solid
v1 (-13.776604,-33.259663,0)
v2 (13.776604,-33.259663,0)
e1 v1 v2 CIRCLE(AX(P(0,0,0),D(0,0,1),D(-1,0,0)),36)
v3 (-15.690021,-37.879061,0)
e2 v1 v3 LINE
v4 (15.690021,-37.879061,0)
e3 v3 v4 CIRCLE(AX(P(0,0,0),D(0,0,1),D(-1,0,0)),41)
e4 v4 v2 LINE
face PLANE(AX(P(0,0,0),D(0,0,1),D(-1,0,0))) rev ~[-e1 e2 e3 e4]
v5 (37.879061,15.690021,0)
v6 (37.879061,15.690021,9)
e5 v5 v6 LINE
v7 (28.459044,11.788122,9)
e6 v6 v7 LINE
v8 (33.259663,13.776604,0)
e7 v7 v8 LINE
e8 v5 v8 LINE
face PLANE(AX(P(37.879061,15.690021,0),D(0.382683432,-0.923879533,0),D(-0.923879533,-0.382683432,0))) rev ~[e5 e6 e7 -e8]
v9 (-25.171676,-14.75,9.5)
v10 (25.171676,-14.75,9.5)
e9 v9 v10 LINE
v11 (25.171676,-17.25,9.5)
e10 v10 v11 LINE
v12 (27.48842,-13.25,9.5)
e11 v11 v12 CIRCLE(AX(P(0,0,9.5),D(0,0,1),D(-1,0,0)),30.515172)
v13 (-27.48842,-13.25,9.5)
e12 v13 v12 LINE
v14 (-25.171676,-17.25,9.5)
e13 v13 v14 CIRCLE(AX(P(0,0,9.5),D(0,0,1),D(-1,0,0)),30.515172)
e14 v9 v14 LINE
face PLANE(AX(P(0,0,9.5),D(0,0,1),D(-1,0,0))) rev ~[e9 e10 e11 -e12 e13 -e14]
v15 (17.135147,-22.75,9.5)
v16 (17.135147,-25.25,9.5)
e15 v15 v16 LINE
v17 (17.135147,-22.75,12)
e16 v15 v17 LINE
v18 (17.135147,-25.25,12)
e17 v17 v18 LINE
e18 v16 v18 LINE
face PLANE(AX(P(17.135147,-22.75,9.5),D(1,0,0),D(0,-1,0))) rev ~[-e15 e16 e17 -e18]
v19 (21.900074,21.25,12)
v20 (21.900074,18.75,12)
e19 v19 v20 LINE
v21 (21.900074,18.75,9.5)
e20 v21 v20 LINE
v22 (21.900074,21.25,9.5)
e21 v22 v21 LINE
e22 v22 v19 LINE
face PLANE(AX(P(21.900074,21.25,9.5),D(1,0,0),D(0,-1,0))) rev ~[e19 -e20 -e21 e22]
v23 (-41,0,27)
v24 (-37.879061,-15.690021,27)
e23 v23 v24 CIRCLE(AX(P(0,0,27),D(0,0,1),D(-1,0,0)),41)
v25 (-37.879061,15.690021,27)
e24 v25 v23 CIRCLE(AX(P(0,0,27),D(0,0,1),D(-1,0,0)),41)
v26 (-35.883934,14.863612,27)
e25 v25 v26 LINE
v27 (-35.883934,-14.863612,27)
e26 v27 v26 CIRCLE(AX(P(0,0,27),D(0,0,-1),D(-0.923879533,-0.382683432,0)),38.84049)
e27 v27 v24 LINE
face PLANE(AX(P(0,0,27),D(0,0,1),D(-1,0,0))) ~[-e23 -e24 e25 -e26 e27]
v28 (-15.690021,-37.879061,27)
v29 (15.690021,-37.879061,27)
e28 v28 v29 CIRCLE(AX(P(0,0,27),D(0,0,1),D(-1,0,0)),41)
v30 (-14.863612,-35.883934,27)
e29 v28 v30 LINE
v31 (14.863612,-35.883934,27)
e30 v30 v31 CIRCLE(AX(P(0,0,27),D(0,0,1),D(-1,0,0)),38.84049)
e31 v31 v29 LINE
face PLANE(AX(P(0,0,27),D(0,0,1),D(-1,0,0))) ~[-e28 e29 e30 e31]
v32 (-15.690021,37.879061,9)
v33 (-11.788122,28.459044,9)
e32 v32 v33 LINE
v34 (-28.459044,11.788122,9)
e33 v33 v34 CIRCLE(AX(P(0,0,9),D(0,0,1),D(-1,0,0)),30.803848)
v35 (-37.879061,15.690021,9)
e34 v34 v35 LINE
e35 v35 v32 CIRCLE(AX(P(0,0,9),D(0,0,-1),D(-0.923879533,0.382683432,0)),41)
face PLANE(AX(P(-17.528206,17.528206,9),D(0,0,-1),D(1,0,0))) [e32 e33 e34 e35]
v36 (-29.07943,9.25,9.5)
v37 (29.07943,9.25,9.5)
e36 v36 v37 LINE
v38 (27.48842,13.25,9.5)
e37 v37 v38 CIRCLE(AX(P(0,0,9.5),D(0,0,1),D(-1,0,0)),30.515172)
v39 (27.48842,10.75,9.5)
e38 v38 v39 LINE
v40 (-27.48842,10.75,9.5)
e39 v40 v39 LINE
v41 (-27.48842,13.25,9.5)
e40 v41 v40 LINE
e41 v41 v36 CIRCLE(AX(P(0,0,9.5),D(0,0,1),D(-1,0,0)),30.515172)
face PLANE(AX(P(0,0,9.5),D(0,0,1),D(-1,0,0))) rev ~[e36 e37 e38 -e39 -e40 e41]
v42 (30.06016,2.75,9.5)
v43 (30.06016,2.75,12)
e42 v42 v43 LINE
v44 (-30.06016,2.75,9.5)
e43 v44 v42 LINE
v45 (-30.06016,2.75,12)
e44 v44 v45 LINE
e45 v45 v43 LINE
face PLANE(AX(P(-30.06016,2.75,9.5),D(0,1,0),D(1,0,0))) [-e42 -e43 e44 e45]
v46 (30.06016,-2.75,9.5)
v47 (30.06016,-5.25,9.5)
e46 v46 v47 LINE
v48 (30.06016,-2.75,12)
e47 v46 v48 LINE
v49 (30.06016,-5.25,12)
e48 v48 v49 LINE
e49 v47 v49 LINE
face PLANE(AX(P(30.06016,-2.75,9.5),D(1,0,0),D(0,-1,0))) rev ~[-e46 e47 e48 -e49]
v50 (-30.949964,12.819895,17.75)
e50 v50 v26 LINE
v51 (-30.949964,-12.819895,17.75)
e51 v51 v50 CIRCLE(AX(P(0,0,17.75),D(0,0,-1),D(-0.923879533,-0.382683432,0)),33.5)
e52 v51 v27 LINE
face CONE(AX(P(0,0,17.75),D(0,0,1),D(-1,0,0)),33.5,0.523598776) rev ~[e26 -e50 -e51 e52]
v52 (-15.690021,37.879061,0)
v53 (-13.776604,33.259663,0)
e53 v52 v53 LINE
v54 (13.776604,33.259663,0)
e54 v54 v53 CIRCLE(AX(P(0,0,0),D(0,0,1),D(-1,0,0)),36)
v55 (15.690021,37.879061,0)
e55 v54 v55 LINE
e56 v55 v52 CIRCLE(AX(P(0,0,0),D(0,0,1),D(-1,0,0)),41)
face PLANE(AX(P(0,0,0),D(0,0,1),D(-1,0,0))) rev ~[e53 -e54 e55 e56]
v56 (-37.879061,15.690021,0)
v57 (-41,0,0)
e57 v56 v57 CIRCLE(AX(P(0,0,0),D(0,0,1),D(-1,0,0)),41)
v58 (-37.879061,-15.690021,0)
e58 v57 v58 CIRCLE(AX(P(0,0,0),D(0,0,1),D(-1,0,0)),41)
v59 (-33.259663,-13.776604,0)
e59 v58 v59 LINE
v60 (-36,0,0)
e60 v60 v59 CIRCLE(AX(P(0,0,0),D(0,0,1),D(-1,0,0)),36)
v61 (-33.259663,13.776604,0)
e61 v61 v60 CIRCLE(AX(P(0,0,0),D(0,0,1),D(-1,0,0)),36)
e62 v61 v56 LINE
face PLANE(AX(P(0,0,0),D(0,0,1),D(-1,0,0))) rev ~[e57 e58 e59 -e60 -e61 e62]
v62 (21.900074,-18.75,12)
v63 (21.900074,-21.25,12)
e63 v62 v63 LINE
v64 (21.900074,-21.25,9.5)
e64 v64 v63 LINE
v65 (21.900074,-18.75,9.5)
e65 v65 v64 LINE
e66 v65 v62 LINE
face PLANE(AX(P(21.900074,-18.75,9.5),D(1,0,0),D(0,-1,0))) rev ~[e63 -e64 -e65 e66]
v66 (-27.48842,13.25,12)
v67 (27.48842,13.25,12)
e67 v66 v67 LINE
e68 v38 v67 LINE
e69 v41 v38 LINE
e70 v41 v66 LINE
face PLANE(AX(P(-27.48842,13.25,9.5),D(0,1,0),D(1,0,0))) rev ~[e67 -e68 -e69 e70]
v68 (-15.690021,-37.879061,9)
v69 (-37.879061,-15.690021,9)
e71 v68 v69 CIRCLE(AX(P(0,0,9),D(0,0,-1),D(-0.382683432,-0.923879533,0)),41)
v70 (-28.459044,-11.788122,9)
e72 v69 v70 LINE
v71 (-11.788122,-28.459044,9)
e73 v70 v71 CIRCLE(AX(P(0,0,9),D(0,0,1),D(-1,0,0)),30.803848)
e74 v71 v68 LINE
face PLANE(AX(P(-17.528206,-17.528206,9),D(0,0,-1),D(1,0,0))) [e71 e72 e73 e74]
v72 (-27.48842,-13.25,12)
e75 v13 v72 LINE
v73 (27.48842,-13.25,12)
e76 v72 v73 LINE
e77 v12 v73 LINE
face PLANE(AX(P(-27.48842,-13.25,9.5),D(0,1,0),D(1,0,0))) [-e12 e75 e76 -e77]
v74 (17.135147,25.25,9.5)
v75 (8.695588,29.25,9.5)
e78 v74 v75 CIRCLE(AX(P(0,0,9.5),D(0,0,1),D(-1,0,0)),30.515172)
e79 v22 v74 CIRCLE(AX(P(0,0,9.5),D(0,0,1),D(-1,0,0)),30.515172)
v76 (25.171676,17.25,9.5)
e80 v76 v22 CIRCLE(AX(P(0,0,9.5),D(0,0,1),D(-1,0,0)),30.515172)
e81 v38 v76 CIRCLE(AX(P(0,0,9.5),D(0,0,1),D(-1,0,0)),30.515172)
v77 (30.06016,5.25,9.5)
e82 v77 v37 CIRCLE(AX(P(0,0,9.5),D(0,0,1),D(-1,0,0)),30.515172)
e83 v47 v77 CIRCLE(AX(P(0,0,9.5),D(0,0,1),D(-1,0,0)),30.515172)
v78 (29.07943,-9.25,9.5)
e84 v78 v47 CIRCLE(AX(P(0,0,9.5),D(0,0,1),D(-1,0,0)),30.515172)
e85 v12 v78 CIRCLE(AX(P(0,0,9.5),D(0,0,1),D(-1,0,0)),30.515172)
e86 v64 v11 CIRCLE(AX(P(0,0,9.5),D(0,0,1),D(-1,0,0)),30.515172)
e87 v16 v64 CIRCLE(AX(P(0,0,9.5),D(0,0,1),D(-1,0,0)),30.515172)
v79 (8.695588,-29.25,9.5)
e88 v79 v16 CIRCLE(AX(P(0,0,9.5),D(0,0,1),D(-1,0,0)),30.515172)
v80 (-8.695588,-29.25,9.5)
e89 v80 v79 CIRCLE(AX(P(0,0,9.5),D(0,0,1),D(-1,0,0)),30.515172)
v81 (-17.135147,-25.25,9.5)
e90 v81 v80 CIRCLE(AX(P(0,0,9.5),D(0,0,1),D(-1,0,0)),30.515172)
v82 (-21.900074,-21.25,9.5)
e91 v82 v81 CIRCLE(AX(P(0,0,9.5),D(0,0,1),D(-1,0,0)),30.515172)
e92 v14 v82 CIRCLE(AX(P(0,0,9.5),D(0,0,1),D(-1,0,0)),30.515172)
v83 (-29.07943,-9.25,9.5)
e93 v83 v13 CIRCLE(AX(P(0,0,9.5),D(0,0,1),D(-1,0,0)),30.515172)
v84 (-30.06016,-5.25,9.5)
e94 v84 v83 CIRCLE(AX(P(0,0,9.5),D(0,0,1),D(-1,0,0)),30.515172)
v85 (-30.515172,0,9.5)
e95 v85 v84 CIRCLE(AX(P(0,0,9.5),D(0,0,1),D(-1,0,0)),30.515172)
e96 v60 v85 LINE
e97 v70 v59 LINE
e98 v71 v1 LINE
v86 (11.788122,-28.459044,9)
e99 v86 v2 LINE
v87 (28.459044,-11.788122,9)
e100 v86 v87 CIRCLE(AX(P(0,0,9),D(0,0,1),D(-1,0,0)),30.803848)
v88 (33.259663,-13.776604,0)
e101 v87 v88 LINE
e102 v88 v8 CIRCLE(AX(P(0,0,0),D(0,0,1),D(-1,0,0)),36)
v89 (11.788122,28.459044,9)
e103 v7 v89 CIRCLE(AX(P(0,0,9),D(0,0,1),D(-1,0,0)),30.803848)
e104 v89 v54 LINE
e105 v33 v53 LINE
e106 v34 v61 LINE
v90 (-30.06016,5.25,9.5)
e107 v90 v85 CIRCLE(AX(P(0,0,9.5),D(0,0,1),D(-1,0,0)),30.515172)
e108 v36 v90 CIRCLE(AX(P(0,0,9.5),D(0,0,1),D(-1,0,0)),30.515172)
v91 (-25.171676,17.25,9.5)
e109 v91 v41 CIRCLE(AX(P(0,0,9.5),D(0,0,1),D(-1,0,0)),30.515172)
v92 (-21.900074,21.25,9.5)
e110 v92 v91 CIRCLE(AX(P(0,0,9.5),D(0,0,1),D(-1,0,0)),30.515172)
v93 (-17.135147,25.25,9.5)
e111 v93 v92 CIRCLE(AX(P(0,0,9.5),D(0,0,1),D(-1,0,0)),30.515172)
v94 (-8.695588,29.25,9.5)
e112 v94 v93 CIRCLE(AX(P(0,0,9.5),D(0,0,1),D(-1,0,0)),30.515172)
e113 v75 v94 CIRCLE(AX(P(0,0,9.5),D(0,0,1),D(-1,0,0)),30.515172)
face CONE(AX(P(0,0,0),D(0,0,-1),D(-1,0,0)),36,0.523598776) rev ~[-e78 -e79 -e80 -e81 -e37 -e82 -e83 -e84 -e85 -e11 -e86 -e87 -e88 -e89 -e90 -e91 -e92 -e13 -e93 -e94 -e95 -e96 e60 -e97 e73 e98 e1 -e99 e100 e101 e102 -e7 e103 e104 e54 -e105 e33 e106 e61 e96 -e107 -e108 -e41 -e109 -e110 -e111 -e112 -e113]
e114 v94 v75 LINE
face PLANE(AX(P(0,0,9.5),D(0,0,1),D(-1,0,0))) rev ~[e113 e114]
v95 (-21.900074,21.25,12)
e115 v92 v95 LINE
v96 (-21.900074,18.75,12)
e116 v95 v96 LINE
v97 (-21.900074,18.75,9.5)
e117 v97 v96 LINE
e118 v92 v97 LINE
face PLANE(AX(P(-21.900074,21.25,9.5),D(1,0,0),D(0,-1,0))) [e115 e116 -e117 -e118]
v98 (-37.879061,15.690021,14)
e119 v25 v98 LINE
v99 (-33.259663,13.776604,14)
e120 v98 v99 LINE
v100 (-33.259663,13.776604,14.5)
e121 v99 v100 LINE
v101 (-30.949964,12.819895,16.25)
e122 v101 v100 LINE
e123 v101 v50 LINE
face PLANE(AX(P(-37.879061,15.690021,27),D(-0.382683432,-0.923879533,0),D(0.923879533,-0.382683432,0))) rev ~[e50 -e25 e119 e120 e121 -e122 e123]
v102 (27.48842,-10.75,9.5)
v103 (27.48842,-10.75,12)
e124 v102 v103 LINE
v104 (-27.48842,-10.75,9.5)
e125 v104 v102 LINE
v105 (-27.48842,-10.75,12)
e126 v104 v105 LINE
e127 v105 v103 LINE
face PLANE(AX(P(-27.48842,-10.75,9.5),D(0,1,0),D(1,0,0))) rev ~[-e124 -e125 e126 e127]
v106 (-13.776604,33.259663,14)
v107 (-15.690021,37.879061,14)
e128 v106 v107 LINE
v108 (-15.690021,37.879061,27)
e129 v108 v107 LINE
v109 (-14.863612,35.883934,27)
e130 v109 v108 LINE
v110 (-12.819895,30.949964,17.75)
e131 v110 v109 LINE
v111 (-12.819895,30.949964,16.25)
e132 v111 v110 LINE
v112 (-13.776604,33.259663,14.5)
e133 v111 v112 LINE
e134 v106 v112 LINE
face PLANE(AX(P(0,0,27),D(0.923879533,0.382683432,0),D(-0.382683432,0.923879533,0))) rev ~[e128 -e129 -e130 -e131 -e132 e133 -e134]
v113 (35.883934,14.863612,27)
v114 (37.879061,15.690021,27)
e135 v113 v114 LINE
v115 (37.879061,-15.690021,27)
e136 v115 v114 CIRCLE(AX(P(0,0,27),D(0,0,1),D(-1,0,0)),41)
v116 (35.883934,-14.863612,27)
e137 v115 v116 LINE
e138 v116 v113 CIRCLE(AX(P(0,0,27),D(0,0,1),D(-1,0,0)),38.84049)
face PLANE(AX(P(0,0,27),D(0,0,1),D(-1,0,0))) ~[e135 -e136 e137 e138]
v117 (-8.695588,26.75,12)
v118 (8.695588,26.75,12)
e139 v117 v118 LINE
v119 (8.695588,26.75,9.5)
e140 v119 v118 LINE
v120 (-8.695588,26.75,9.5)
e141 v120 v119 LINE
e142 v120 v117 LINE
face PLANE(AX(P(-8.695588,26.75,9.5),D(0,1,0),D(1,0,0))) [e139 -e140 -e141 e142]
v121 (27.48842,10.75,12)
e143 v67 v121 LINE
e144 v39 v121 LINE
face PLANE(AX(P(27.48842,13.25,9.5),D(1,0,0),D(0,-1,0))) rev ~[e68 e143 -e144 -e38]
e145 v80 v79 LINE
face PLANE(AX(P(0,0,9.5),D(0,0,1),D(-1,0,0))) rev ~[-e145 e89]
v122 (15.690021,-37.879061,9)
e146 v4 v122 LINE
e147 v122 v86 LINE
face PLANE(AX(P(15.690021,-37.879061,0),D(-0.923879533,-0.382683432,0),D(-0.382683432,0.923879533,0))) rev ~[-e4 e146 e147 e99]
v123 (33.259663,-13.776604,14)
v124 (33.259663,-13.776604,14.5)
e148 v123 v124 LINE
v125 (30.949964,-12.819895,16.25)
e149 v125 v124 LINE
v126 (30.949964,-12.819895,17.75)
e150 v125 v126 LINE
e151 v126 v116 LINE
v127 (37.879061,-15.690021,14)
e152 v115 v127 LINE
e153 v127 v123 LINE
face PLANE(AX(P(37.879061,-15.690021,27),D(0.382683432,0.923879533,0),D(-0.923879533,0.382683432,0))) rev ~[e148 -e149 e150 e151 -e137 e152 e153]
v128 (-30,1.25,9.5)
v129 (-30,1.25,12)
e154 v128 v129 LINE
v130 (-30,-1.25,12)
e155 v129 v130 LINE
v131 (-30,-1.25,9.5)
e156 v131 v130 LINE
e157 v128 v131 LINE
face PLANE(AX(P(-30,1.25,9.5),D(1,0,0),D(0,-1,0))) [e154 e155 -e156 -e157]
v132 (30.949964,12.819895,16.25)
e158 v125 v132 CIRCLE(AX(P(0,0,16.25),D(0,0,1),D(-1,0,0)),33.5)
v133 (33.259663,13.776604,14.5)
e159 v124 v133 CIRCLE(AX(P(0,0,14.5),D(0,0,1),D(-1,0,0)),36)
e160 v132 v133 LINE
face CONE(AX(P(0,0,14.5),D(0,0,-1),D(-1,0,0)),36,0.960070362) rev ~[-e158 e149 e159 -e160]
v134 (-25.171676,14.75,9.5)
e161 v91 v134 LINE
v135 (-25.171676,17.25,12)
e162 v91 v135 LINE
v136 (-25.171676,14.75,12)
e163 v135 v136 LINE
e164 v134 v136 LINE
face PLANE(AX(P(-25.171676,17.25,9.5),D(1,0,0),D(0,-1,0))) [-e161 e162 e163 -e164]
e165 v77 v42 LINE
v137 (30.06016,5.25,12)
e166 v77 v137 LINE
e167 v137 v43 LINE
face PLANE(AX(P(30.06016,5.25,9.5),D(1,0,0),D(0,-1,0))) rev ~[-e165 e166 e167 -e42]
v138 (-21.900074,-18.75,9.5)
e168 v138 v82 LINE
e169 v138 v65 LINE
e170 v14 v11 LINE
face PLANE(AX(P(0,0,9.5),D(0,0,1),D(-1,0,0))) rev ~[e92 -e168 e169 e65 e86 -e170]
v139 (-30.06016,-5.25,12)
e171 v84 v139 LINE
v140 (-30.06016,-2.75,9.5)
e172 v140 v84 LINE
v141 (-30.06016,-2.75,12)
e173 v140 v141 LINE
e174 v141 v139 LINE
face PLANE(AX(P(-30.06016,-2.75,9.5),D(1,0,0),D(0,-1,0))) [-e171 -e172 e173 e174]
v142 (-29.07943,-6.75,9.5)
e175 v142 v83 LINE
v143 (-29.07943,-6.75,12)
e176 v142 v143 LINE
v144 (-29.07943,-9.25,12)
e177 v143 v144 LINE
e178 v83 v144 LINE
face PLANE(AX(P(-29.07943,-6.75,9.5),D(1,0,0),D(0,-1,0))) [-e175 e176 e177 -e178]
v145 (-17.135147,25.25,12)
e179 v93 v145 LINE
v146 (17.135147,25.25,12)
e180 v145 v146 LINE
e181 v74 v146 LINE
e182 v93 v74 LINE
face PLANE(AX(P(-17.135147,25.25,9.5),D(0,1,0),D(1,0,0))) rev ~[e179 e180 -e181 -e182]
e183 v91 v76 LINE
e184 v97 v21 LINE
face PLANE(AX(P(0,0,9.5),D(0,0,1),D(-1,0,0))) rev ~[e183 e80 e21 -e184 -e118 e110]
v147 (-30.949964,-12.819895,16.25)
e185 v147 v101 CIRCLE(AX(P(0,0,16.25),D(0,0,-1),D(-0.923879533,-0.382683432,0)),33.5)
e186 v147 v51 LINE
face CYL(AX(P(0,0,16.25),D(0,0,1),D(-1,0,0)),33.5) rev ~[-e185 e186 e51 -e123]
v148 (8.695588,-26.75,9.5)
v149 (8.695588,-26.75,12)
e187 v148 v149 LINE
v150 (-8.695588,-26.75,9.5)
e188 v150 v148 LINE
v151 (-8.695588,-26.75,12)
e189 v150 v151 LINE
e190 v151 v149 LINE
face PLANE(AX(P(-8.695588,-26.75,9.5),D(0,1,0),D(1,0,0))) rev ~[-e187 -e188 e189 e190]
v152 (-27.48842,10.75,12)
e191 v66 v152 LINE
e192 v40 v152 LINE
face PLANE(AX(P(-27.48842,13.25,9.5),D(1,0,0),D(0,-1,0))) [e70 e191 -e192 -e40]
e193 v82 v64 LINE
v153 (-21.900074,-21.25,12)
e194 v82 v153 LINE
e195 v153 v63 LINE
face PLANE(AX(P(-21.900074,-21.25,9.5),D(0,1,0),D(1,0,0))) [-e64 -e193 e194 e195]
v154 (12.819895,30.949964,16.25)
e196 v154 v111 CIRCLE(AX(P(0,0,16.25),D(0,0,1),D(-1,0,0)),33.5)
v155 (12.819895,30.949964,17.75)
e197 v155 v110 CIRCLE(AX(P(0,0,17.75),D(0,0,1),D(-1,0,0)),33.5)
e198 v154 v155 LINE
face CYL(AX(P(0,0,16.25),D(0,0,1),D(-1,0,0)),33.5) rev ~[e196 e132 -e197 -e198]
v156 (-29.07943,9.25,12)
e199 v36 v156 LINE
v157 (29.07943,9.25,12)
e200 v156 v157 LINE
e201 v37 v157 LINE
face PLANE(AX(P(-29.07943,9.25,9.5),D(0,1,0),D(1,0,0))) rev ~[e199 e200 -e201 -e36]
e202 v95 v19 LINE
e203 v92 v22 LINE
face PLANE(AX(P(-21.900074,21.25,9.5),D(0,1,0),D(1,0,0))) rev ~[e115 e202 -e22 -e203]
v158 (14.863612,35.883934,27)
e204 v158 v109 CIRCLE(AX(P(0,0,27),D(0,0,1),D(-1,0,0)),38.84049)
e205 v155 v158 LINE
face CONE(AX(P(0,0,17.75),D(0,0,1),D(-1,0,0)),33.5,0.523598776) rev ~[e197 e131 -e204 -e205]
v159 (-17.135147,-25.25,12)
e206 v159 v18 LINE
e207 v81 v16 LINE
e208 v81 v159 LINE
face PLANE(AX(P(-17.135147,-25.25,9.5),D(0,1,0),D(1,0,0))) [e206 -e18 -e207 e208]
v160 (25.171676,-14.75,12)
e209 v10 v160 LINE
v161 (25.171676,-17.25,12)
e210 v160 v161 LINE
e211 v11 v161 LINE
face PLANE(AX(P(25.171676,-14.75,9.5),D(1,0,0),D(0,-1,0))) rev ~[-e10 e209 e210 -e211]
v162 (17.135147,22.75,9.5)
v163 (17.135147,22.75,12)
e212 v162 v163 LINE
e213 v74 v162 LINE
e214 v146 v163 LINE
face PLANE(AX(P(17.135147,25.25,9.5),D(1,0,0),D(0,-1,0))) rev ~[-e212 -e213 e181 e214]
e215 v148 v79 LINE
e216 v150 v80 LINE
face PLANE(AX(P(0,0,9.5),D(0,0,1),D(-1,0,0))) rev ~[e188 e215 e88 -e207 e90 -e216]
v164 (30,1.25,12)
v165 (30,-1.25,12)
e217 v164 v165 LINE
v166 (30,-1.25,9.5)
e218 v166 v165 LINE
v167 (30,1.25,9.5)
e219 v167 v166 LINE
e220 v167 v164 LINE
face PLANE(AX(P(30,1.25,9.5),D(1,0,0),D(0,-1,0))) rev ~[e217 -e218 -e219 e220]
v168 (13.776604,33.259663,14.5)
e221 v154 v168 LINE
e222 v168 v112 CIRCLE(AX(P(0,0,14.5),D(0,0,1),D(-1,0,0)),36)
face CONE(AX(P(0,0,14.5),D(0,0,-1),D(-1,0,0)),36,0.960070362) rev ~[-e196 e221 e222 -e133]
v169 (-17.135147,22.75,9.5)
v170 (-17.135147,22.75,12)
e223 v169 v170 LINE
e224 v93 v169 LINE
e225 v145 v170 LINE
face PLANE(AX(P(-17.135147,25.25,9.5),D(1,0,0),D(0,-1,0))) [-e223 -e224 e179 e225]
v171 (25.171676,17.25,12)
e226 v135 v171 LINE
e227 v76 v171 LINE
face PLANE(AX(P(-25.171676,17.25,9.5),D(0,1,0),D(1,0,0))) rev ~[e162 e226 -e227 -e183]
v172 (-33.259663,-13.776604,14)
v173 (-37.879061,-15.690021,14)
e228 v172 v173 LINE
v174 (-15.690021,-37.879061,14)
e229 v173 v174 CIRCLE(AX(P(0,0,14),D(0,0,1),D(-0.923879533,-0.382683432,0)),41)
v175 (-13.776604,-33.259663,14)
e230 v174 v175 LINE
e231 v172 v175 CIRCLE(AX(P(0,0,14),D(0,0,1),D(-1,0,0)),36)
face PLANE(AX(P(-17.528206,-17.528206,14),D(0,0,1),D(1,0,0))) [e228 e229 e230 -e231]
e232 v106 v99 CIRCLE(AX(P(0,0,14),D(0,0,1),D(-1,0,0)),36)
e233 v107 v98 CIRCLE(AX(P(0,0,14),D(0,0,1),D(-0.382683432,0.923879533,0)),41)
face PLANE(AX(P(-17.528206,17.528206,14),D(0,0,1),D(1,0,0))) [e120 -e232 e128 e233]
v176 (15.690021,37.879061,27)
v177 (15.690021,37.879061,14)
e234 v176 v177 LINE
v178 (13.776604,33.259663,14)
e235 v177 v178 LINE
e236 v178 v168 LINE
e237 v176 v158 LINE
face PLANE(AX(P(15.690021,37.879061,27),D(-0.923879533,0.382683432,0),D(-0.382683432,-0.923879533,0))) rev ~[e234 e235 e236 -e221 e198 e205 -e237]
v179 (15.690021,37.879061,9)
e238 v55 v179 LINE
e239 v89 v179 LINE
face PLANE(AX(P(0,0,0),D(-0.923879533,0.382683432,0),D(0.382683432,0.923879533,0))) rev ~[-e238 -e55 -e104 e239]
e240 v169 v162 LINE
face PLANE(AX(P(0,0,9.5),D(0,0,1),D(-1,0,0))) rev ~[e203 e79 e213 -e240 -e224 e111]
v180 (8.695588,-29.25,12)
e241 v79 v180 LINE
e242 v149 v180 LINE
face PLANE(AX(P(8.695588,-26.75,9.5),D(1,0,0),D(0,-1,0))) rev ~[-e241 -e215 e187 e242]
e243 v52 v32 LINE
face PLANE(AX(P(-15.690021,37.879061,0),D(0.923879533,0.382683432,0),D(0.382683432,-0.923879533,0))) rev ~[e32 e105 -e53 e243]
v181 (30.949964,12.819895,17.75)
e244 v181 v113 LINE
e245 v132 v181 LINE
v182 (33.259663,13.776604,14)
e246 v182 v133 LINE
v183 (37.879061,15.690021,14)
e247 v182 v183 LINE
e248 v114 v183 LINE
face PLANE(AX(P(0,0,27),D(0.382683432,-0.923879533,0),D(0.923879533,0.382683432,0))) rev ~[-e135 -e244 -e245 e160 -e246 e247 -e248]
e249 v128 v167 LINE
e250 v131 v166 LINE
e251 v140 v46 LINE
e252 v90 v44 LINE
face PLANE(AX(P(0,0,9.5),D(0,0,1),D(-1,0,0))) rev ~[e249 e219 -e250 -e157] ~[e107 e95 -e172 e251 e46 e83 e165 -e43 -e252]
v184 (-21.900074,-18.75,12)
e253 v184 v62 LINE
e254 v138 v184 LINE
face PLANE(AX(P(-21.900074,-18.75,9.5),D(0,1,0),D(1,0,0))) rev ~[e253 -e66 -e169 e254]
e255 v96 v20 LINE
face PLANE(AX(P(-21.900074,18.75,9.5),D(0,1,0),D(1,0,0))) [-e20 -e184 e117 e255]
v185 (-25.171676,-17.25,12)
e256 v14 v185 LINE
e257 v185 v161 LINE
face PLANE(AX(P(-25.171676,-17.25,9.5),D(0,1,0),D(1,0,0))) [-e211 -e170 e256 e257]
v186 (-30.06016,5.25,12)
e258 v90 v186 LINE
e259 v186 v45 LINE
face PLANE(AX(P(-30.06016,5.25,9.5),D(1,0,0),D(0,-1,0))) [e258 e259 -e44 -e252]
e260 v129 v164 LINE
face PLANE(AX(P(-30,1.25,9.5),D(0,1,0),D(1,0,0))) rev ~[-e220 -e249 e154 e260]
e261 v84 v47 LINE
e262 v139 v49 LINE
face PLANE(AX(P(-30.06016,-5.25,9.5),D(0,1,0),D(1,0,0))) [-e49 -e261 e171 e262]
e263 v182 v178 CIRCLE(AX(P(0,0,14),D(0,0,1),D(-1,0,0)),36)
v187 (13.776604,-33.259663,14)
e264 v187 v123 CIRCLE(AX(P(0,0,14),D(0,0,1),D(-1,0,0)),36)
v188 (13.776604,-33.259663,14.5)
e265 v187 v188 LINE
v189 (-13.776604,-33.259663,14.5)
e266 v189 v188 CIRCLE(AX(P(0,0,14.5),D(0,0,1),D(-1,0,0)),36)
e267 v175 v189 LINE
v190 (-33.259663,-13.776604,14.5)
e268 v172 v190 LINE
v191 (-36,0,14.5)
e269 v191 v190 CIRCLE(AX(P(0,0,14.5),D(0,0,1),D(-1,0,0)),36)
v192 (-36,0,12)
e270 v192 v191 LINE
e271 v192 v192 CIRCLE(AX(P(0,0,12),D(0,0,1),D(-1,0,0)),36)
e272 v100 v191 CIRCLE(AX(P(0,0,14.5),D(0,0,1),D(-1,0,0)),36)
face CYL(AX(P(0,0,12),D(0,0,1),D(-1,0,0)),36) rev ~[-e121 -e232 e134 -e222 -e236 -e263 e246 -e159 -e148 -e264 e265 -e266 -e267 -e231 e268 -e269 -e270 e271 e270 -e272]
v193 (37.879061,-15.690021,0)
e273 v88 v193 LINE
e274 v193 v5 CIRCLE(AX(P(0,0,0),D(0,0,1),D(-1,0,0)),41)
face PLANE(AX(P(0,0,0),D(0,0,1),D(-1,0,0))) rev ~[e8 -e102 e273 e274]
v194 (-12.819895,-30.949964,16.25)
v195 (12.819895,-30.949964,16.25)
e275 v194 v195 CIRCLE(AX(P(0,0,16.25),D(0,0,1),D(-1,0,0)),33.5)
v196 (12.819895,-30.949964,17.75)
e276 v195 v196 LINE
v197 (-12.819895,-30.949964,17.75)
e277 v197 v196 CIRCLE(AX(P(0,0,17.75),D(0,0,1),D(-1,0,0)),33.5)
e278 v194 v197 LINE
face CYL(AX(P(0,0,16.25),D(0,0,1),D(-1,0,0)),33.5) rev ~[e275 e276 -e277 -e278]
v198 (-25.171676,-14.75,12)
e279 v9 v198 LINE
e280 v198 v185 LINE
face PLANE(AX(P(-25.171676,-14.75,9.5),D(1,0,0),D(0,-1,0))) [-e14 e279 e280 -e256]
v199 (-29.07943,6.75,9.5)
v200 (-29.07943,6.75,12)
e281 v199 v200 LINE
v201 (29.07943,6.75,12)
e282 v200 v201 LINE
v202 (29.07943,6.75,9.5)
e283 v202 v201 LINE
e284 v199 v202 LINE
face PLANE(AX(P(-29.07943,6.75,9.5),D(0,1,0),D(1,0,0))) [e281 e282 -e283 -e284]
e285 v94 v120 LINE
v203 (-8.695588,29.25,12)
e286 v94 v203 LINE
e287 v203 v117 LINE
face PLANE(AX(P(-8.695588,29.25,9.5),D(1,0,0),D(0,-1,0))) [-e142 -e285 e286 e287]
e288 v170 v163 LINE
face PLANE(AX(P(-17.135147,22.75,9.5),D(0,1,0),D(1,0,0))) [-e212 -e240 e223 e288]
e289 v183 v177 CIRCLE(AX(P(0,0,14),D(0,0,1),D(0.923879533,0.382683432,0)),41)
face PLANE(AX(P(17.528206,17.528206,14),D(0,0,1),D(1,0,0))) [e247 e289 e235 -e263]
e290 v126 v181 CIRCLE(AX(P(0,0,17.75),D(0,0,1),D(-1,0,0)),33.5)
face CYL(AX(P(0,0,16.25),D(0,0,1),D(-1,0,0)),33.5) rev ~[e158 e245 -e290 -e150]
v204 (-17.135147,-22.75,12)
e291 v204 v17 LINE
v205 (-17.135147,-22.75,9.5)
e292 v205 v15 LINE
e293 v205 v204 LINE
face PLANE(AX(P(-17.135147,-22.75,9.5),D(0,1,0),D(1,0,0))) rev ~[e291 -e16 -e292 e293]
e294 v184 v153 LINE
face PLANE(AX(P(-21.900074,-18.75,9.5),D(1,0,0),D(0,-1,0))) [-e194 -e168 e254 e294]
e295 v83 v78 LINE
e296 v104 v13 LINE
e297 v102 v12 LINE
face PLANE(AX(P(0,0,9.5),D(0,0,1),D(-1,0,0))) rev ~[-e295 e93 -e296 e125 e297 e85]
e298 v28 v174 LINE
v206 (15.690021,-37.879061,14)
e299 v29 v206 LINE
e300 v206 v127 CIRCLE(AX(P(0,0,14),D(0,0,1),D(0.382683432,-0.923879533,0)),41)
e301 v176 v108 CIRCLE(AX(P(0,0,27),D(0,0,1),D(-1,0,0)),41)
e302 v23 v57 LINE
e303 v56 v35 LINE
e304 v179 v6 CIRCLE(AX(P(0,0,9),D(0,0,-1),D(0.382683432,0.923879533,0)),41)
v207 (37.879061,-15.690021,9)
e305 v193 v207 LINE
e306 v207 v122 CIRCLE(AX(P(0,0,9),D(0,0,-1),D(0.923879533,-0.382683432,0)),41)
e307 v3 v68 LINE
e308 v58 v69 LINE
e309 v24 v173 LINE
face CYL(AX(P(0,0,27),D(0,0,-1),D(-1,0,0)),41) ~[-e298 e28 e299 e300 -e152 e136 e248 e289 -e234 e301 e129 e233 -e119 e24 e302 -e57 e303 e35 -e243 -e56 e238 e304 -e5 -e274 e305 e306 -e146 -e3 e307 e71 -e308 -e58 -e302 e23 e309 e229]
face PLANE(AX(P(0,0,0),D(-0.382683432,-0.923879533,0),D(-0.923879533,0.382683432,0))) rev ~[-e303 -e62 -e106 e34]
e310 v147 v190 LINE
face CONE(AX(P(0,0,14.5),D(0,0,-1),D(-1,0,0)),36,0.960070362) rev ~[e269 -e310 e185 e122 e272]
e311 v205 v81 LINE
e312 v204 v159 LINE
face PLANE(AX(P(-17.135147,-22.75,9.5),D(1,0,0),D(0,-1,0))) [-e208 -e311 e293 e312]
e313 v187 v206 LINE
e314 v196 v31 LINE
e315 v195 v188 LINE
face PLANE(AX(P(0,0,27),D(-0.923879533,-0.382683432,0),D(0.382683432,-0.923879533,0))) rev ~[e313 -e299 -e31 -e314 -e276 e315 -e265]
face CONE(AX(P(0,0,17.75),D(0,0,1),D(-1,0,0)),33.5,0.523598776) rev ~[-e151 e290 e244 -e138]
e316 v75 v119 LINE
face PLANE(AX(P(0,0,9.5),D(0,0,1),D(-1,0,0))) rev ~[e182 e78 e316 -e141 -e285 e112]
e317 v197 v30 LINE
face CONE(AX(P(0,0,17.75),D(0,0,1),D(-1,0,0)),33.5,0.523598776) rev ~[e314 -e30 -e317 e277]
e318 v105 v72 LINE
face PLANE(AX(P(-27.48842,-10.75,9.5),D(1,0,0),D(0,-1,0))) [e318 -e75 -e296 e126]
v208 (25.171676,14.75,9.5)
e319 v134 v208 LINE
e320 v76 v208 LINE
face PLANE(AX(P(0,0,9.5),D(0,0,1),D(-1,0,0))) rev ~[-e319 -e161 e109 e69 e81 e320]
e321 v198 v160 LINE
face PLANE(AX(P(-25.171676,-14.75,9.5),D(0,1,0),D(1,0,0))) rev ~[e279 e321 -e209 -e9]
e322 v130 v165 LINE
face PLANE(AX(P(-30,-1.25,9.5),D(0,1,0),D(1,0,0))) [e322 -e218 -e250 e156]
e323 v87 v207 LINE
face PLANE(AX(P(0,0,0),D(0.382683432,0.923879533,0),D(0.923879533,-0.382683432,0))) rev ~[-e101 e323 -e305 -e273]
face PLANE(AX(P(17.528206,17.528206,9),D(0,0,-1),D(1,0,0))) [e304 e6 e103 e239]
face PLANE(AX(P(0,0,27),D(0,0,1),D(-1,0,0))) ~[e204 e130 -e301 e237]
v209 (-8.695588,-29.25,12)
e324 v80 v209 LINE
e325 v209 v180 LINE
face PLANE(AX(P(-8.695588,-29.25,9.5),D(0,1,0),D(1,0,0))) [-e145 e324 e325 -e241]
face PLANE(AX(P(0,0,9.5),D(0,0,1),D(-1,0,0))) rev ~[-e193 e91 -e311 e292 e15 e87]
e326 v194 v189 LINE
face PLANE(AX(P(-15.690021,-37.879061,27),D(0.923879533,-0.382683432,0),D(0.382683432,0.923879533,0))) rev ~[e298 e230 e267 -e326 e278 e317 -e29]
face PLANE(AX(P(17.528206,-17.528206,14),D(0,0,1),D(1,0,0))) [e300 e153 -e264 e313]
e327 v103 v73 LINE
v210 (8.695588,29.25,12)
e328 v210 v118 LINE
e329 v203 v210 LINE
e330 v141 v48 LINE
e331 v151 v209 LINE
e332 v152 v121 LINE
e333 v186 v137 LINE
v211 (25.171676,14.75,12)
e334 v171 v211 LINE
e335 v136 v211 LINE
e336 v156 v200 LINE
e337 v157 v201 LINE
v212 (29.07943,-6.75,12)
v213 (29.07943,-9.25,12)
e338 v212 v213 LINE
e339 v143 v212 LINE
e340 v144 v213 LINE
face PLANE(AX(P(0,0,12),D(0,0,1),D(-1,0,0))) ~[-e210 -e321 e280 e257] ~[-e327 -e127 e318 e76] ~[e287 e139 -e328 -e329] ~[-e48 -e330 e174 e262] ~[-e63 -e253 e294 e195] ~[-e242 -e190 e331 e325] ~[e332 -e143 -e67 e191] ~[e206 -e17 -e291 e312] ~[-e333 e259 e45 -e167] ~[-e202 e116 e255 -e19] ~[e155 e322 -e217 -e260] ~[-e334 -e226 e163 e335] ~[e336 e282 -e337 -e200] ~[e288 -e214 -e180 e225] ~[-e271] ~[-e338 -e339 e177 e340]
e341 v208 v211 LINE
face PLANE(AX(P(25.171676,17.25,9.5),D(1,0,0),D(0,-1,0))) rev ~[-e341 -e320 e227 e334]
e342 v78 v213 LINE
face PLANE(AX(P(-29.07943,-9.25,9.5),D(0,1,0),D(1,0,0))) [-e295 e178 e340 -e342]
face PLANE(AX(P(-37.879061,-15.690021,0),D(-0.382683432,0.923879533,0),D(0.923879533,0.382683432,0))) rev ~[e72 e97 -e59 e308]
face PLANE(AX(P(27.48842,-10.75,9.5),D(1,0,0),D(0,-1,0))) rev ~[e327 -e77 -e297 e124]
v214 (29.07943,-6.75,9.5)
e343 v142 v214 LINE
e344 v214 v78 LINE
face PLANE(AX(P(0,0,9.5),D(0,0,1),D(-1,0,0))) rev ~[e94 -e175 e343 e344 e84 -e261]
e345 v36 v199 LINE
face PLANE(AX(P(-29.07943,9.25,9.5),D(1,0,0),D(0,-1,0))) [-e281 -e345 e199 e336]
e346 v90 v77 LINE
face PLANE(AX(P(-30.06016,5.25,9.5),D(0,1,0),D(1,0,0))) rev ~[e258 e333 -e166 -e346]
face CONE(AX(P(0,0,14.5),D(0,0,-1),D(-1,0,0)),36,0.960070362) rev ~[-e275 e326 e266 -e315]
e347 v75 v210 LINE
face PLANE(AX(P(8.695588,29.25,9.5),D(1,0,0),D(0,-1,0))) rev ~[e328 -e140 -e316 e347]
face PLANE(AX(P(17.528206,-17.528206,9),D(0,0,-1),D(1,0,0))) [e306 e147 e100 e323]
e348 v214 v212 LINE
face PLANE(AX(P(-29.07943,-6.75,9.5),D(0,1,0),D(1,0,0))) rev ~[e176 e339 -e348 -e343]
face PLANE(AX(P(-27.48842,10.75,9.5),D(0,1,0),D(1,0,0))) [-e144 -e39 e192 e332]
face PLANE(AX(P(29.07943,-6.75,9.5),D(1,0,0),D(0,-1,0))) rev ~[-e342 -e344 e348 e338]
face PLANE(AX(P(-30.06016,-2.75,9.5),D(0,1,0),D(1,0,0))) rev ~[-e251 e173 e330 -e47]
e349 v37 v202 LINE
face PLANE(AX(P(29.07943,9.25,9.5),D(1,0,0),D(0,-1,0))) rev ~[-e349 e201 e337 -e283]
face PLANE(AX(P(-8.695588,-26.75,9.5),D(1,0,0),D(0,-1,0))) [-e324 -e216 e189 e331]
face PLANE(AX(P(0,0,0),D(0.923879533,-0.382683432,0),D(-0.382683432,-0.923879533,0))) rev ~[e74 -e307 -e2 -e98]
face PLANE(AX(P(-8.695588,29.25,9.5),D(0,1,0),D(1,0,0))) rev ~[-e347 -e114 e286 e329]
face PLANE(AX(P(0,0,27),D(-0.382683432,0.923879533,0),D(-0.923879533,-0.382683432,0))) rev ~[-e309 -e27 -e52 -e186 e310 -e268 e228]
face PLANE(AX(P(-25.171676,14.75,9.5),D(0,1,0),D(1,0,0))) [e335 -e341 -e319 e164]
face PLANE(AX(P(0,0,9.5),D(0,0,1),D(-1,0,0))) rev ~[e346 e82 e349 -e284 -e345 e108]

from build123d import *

# Parameters (mm, degrees)
F3_DEPTH      = 9
F4_W          = 60
F4_H          = 2.5
F4_W_2        = 60.1203209974
F4_W_3        = 58.1588600028
F4_W_4        = 54.9768405497
F4_W_5        = 50.3433510687
F4_W_6        = 43.8001483654
F4_W_7        = 17.3911758323
F4_W_8        = 34.2702932119
F5_DEPTH      = 2.5
F5_DEPTH_BACK = 25
F7_DEPTH      = 13


with BuildPart() as f1:
    # F0 (on Front) → F1 (revolve)
    with BuildSketch(Plane.XZ):
        Polygon((-41, 0), (-36, 0), (-30.5151724427, 9.5), (0, 9.5), (0, 12), (-36, 12), (-36, 14.5), (-33.5, 16.25), (-33.5, 17.75), (-38.84048999, 27), (-41, 27), align=None)
    revolve(axis=Axis((0, 0, 37.0227386814), (0, 0, 1)))

    # F2 (on face) → F3 (cut)
    with BuildSketch(Plane(origin=(0, 0, 0), x_dir=(1, 0, 0), z_dir=(0, 0, -1))):
        with BuildLine():
            Line((15.690020727, 37.879060833), (0, 0))
            Line((0, 0), (37.879060833, 15.690020727))
            ThreePointArc((37.879060833, 15.690020727), (28.9913780286, 28.9913780286), (15.690020727, 37.879060833))
        make_face()
        with BuildLine():
            Line((-37.879060833, 15.690020727), (0, 0))
            Line((0, 0), (-15.690020727, 37.879060833))
            ThreePointArc((-15.690020727, 37.879060833), (-28.9913780286, 28.9913780286), (-37.879060833, 15.690020727))
        make_face()
        with BuildLine():
            Line((-15.690020727, -37.879060833), (0, 0))
            Line((0, 0), (-37.879060833, -15.690020727))
            ThreePointArc((-37.879060833, -15.690020727), (-28.9913780286, -28.9913780286), (-15.690020727, -37.879060833))
        make_face()
        with BuildLine():
            Line((37.879060833, -15.690020727), (0, 0))
            Line((0, 0), (15.690020727, -37.879060833))
            ThreePointArc((15.690020727, -37.879060833), (28.9913780286, -28.9913780286), (37.879060833, -15.690020727))
        make_face()
    extrude(amount=-F3_DEPTH, mode=Mode.SUBTRACT)

    # F4 (on face) → F5 (cut, two sides)
    with BuildSketch(Plane(origin=(0, 0, 9.5), x_dir=(1, 0, 0), z_dir=(0, 0, -1))) as f5_sk:
        Rectangle(F4_W, F4_H)
        with Locations((0, -4)):
            Rectangle(F4_W_2, F4_H)
        with Locations((0, -8)):
            Rectangle(F4_W_3, F4_H)
        with Locations((0, -12)):
            Rectangle(F4_W_4, F4_H)
        with Locations((0, -16)):
            Rectangle(F4_W_5, F4_H)
        with Locations((0, -20)):
            Rectangle(F4_W_6, F4_H)
        with Locations((0, -28)):
            Rectangle(F4_W_7, F4_H)
        with Locations((0, -24)):
            Rectangle(F4_W_8, F4_H)
        with Locations((0, 24)):
            Rectangle(F4_W_8, F4_H)
        with Locations((0, 4)):
            Rectangle(F4_W_2, F4_H)
        with Locations((0, 16)):
            Rectangle(F4_W_5, F4_H)
        with Locations((0, 12)):
            Rectangle(F4_W_4, F4_H)
        with Locations((0, 28)):
            Rectangle(F4_W_7, F4_H)
        with Locations((0, 20)):
            Rectangle(F4_W_6, F4_H)
        with Locations((0, 8)):
            Rectangle(F4_W_3, F4_H)
    extrude(amount=-F5_DEPTH, mode=Mode.SUBTRACT)
    extrude(f5_sk.sketch, amount=F5_DEPTH_BACK, mode=Mode.SUBTRACT)

    # F6 (on face) → F7 (cut)
    with BuildSketch(Plane.XY.offset(27)):
        with BuildLine():
            Line((-15.690020727, -37.879060833), (0, 0))
            Line((0, 0), (-37.879060833, -15.690020727))
            ThreePointArc((-37.879060833, -15.690020727), (-28.9913780286, -28.9913780286), (-15.690020727, -37.879060833))
        make_face()
        with BuildLine():
            Line((37.879060833, -15.690020727), (0, 0))
            Line((0, 0), (15.690020727, -37.879060833))
            ThreePointArc((15.690020727, -37.879060833), (28.9913780286, -28.9913780286), (37.879060833, -15.690020727))
        make_face()
        with BuildLine():
            Line((15.690020727, 37.879060833), (0, 0))
            Line((0, 0), (37.879060833, 15.690020727))
            ThreePointArc((37.879060833, 15.690020727), (28.9913780286, 28.9913780286), (15.690020727, 37.879060833))
        make_face()
        with BuildLine():
            Line((-37.879060833, 15.690020727), (0, 0))
            Line((0, 0), (-15.690020727, 37.879060833))
            ThreePointArc((-15.690020727, 37.879060833), (-28.9913780286, 28.9913780286), (-37.879060833, 15.690020727))
        make_face()
    extrude(amount=-F7_DEPTH, mode=Mode.SUBTRACT)


solid = f1.part
